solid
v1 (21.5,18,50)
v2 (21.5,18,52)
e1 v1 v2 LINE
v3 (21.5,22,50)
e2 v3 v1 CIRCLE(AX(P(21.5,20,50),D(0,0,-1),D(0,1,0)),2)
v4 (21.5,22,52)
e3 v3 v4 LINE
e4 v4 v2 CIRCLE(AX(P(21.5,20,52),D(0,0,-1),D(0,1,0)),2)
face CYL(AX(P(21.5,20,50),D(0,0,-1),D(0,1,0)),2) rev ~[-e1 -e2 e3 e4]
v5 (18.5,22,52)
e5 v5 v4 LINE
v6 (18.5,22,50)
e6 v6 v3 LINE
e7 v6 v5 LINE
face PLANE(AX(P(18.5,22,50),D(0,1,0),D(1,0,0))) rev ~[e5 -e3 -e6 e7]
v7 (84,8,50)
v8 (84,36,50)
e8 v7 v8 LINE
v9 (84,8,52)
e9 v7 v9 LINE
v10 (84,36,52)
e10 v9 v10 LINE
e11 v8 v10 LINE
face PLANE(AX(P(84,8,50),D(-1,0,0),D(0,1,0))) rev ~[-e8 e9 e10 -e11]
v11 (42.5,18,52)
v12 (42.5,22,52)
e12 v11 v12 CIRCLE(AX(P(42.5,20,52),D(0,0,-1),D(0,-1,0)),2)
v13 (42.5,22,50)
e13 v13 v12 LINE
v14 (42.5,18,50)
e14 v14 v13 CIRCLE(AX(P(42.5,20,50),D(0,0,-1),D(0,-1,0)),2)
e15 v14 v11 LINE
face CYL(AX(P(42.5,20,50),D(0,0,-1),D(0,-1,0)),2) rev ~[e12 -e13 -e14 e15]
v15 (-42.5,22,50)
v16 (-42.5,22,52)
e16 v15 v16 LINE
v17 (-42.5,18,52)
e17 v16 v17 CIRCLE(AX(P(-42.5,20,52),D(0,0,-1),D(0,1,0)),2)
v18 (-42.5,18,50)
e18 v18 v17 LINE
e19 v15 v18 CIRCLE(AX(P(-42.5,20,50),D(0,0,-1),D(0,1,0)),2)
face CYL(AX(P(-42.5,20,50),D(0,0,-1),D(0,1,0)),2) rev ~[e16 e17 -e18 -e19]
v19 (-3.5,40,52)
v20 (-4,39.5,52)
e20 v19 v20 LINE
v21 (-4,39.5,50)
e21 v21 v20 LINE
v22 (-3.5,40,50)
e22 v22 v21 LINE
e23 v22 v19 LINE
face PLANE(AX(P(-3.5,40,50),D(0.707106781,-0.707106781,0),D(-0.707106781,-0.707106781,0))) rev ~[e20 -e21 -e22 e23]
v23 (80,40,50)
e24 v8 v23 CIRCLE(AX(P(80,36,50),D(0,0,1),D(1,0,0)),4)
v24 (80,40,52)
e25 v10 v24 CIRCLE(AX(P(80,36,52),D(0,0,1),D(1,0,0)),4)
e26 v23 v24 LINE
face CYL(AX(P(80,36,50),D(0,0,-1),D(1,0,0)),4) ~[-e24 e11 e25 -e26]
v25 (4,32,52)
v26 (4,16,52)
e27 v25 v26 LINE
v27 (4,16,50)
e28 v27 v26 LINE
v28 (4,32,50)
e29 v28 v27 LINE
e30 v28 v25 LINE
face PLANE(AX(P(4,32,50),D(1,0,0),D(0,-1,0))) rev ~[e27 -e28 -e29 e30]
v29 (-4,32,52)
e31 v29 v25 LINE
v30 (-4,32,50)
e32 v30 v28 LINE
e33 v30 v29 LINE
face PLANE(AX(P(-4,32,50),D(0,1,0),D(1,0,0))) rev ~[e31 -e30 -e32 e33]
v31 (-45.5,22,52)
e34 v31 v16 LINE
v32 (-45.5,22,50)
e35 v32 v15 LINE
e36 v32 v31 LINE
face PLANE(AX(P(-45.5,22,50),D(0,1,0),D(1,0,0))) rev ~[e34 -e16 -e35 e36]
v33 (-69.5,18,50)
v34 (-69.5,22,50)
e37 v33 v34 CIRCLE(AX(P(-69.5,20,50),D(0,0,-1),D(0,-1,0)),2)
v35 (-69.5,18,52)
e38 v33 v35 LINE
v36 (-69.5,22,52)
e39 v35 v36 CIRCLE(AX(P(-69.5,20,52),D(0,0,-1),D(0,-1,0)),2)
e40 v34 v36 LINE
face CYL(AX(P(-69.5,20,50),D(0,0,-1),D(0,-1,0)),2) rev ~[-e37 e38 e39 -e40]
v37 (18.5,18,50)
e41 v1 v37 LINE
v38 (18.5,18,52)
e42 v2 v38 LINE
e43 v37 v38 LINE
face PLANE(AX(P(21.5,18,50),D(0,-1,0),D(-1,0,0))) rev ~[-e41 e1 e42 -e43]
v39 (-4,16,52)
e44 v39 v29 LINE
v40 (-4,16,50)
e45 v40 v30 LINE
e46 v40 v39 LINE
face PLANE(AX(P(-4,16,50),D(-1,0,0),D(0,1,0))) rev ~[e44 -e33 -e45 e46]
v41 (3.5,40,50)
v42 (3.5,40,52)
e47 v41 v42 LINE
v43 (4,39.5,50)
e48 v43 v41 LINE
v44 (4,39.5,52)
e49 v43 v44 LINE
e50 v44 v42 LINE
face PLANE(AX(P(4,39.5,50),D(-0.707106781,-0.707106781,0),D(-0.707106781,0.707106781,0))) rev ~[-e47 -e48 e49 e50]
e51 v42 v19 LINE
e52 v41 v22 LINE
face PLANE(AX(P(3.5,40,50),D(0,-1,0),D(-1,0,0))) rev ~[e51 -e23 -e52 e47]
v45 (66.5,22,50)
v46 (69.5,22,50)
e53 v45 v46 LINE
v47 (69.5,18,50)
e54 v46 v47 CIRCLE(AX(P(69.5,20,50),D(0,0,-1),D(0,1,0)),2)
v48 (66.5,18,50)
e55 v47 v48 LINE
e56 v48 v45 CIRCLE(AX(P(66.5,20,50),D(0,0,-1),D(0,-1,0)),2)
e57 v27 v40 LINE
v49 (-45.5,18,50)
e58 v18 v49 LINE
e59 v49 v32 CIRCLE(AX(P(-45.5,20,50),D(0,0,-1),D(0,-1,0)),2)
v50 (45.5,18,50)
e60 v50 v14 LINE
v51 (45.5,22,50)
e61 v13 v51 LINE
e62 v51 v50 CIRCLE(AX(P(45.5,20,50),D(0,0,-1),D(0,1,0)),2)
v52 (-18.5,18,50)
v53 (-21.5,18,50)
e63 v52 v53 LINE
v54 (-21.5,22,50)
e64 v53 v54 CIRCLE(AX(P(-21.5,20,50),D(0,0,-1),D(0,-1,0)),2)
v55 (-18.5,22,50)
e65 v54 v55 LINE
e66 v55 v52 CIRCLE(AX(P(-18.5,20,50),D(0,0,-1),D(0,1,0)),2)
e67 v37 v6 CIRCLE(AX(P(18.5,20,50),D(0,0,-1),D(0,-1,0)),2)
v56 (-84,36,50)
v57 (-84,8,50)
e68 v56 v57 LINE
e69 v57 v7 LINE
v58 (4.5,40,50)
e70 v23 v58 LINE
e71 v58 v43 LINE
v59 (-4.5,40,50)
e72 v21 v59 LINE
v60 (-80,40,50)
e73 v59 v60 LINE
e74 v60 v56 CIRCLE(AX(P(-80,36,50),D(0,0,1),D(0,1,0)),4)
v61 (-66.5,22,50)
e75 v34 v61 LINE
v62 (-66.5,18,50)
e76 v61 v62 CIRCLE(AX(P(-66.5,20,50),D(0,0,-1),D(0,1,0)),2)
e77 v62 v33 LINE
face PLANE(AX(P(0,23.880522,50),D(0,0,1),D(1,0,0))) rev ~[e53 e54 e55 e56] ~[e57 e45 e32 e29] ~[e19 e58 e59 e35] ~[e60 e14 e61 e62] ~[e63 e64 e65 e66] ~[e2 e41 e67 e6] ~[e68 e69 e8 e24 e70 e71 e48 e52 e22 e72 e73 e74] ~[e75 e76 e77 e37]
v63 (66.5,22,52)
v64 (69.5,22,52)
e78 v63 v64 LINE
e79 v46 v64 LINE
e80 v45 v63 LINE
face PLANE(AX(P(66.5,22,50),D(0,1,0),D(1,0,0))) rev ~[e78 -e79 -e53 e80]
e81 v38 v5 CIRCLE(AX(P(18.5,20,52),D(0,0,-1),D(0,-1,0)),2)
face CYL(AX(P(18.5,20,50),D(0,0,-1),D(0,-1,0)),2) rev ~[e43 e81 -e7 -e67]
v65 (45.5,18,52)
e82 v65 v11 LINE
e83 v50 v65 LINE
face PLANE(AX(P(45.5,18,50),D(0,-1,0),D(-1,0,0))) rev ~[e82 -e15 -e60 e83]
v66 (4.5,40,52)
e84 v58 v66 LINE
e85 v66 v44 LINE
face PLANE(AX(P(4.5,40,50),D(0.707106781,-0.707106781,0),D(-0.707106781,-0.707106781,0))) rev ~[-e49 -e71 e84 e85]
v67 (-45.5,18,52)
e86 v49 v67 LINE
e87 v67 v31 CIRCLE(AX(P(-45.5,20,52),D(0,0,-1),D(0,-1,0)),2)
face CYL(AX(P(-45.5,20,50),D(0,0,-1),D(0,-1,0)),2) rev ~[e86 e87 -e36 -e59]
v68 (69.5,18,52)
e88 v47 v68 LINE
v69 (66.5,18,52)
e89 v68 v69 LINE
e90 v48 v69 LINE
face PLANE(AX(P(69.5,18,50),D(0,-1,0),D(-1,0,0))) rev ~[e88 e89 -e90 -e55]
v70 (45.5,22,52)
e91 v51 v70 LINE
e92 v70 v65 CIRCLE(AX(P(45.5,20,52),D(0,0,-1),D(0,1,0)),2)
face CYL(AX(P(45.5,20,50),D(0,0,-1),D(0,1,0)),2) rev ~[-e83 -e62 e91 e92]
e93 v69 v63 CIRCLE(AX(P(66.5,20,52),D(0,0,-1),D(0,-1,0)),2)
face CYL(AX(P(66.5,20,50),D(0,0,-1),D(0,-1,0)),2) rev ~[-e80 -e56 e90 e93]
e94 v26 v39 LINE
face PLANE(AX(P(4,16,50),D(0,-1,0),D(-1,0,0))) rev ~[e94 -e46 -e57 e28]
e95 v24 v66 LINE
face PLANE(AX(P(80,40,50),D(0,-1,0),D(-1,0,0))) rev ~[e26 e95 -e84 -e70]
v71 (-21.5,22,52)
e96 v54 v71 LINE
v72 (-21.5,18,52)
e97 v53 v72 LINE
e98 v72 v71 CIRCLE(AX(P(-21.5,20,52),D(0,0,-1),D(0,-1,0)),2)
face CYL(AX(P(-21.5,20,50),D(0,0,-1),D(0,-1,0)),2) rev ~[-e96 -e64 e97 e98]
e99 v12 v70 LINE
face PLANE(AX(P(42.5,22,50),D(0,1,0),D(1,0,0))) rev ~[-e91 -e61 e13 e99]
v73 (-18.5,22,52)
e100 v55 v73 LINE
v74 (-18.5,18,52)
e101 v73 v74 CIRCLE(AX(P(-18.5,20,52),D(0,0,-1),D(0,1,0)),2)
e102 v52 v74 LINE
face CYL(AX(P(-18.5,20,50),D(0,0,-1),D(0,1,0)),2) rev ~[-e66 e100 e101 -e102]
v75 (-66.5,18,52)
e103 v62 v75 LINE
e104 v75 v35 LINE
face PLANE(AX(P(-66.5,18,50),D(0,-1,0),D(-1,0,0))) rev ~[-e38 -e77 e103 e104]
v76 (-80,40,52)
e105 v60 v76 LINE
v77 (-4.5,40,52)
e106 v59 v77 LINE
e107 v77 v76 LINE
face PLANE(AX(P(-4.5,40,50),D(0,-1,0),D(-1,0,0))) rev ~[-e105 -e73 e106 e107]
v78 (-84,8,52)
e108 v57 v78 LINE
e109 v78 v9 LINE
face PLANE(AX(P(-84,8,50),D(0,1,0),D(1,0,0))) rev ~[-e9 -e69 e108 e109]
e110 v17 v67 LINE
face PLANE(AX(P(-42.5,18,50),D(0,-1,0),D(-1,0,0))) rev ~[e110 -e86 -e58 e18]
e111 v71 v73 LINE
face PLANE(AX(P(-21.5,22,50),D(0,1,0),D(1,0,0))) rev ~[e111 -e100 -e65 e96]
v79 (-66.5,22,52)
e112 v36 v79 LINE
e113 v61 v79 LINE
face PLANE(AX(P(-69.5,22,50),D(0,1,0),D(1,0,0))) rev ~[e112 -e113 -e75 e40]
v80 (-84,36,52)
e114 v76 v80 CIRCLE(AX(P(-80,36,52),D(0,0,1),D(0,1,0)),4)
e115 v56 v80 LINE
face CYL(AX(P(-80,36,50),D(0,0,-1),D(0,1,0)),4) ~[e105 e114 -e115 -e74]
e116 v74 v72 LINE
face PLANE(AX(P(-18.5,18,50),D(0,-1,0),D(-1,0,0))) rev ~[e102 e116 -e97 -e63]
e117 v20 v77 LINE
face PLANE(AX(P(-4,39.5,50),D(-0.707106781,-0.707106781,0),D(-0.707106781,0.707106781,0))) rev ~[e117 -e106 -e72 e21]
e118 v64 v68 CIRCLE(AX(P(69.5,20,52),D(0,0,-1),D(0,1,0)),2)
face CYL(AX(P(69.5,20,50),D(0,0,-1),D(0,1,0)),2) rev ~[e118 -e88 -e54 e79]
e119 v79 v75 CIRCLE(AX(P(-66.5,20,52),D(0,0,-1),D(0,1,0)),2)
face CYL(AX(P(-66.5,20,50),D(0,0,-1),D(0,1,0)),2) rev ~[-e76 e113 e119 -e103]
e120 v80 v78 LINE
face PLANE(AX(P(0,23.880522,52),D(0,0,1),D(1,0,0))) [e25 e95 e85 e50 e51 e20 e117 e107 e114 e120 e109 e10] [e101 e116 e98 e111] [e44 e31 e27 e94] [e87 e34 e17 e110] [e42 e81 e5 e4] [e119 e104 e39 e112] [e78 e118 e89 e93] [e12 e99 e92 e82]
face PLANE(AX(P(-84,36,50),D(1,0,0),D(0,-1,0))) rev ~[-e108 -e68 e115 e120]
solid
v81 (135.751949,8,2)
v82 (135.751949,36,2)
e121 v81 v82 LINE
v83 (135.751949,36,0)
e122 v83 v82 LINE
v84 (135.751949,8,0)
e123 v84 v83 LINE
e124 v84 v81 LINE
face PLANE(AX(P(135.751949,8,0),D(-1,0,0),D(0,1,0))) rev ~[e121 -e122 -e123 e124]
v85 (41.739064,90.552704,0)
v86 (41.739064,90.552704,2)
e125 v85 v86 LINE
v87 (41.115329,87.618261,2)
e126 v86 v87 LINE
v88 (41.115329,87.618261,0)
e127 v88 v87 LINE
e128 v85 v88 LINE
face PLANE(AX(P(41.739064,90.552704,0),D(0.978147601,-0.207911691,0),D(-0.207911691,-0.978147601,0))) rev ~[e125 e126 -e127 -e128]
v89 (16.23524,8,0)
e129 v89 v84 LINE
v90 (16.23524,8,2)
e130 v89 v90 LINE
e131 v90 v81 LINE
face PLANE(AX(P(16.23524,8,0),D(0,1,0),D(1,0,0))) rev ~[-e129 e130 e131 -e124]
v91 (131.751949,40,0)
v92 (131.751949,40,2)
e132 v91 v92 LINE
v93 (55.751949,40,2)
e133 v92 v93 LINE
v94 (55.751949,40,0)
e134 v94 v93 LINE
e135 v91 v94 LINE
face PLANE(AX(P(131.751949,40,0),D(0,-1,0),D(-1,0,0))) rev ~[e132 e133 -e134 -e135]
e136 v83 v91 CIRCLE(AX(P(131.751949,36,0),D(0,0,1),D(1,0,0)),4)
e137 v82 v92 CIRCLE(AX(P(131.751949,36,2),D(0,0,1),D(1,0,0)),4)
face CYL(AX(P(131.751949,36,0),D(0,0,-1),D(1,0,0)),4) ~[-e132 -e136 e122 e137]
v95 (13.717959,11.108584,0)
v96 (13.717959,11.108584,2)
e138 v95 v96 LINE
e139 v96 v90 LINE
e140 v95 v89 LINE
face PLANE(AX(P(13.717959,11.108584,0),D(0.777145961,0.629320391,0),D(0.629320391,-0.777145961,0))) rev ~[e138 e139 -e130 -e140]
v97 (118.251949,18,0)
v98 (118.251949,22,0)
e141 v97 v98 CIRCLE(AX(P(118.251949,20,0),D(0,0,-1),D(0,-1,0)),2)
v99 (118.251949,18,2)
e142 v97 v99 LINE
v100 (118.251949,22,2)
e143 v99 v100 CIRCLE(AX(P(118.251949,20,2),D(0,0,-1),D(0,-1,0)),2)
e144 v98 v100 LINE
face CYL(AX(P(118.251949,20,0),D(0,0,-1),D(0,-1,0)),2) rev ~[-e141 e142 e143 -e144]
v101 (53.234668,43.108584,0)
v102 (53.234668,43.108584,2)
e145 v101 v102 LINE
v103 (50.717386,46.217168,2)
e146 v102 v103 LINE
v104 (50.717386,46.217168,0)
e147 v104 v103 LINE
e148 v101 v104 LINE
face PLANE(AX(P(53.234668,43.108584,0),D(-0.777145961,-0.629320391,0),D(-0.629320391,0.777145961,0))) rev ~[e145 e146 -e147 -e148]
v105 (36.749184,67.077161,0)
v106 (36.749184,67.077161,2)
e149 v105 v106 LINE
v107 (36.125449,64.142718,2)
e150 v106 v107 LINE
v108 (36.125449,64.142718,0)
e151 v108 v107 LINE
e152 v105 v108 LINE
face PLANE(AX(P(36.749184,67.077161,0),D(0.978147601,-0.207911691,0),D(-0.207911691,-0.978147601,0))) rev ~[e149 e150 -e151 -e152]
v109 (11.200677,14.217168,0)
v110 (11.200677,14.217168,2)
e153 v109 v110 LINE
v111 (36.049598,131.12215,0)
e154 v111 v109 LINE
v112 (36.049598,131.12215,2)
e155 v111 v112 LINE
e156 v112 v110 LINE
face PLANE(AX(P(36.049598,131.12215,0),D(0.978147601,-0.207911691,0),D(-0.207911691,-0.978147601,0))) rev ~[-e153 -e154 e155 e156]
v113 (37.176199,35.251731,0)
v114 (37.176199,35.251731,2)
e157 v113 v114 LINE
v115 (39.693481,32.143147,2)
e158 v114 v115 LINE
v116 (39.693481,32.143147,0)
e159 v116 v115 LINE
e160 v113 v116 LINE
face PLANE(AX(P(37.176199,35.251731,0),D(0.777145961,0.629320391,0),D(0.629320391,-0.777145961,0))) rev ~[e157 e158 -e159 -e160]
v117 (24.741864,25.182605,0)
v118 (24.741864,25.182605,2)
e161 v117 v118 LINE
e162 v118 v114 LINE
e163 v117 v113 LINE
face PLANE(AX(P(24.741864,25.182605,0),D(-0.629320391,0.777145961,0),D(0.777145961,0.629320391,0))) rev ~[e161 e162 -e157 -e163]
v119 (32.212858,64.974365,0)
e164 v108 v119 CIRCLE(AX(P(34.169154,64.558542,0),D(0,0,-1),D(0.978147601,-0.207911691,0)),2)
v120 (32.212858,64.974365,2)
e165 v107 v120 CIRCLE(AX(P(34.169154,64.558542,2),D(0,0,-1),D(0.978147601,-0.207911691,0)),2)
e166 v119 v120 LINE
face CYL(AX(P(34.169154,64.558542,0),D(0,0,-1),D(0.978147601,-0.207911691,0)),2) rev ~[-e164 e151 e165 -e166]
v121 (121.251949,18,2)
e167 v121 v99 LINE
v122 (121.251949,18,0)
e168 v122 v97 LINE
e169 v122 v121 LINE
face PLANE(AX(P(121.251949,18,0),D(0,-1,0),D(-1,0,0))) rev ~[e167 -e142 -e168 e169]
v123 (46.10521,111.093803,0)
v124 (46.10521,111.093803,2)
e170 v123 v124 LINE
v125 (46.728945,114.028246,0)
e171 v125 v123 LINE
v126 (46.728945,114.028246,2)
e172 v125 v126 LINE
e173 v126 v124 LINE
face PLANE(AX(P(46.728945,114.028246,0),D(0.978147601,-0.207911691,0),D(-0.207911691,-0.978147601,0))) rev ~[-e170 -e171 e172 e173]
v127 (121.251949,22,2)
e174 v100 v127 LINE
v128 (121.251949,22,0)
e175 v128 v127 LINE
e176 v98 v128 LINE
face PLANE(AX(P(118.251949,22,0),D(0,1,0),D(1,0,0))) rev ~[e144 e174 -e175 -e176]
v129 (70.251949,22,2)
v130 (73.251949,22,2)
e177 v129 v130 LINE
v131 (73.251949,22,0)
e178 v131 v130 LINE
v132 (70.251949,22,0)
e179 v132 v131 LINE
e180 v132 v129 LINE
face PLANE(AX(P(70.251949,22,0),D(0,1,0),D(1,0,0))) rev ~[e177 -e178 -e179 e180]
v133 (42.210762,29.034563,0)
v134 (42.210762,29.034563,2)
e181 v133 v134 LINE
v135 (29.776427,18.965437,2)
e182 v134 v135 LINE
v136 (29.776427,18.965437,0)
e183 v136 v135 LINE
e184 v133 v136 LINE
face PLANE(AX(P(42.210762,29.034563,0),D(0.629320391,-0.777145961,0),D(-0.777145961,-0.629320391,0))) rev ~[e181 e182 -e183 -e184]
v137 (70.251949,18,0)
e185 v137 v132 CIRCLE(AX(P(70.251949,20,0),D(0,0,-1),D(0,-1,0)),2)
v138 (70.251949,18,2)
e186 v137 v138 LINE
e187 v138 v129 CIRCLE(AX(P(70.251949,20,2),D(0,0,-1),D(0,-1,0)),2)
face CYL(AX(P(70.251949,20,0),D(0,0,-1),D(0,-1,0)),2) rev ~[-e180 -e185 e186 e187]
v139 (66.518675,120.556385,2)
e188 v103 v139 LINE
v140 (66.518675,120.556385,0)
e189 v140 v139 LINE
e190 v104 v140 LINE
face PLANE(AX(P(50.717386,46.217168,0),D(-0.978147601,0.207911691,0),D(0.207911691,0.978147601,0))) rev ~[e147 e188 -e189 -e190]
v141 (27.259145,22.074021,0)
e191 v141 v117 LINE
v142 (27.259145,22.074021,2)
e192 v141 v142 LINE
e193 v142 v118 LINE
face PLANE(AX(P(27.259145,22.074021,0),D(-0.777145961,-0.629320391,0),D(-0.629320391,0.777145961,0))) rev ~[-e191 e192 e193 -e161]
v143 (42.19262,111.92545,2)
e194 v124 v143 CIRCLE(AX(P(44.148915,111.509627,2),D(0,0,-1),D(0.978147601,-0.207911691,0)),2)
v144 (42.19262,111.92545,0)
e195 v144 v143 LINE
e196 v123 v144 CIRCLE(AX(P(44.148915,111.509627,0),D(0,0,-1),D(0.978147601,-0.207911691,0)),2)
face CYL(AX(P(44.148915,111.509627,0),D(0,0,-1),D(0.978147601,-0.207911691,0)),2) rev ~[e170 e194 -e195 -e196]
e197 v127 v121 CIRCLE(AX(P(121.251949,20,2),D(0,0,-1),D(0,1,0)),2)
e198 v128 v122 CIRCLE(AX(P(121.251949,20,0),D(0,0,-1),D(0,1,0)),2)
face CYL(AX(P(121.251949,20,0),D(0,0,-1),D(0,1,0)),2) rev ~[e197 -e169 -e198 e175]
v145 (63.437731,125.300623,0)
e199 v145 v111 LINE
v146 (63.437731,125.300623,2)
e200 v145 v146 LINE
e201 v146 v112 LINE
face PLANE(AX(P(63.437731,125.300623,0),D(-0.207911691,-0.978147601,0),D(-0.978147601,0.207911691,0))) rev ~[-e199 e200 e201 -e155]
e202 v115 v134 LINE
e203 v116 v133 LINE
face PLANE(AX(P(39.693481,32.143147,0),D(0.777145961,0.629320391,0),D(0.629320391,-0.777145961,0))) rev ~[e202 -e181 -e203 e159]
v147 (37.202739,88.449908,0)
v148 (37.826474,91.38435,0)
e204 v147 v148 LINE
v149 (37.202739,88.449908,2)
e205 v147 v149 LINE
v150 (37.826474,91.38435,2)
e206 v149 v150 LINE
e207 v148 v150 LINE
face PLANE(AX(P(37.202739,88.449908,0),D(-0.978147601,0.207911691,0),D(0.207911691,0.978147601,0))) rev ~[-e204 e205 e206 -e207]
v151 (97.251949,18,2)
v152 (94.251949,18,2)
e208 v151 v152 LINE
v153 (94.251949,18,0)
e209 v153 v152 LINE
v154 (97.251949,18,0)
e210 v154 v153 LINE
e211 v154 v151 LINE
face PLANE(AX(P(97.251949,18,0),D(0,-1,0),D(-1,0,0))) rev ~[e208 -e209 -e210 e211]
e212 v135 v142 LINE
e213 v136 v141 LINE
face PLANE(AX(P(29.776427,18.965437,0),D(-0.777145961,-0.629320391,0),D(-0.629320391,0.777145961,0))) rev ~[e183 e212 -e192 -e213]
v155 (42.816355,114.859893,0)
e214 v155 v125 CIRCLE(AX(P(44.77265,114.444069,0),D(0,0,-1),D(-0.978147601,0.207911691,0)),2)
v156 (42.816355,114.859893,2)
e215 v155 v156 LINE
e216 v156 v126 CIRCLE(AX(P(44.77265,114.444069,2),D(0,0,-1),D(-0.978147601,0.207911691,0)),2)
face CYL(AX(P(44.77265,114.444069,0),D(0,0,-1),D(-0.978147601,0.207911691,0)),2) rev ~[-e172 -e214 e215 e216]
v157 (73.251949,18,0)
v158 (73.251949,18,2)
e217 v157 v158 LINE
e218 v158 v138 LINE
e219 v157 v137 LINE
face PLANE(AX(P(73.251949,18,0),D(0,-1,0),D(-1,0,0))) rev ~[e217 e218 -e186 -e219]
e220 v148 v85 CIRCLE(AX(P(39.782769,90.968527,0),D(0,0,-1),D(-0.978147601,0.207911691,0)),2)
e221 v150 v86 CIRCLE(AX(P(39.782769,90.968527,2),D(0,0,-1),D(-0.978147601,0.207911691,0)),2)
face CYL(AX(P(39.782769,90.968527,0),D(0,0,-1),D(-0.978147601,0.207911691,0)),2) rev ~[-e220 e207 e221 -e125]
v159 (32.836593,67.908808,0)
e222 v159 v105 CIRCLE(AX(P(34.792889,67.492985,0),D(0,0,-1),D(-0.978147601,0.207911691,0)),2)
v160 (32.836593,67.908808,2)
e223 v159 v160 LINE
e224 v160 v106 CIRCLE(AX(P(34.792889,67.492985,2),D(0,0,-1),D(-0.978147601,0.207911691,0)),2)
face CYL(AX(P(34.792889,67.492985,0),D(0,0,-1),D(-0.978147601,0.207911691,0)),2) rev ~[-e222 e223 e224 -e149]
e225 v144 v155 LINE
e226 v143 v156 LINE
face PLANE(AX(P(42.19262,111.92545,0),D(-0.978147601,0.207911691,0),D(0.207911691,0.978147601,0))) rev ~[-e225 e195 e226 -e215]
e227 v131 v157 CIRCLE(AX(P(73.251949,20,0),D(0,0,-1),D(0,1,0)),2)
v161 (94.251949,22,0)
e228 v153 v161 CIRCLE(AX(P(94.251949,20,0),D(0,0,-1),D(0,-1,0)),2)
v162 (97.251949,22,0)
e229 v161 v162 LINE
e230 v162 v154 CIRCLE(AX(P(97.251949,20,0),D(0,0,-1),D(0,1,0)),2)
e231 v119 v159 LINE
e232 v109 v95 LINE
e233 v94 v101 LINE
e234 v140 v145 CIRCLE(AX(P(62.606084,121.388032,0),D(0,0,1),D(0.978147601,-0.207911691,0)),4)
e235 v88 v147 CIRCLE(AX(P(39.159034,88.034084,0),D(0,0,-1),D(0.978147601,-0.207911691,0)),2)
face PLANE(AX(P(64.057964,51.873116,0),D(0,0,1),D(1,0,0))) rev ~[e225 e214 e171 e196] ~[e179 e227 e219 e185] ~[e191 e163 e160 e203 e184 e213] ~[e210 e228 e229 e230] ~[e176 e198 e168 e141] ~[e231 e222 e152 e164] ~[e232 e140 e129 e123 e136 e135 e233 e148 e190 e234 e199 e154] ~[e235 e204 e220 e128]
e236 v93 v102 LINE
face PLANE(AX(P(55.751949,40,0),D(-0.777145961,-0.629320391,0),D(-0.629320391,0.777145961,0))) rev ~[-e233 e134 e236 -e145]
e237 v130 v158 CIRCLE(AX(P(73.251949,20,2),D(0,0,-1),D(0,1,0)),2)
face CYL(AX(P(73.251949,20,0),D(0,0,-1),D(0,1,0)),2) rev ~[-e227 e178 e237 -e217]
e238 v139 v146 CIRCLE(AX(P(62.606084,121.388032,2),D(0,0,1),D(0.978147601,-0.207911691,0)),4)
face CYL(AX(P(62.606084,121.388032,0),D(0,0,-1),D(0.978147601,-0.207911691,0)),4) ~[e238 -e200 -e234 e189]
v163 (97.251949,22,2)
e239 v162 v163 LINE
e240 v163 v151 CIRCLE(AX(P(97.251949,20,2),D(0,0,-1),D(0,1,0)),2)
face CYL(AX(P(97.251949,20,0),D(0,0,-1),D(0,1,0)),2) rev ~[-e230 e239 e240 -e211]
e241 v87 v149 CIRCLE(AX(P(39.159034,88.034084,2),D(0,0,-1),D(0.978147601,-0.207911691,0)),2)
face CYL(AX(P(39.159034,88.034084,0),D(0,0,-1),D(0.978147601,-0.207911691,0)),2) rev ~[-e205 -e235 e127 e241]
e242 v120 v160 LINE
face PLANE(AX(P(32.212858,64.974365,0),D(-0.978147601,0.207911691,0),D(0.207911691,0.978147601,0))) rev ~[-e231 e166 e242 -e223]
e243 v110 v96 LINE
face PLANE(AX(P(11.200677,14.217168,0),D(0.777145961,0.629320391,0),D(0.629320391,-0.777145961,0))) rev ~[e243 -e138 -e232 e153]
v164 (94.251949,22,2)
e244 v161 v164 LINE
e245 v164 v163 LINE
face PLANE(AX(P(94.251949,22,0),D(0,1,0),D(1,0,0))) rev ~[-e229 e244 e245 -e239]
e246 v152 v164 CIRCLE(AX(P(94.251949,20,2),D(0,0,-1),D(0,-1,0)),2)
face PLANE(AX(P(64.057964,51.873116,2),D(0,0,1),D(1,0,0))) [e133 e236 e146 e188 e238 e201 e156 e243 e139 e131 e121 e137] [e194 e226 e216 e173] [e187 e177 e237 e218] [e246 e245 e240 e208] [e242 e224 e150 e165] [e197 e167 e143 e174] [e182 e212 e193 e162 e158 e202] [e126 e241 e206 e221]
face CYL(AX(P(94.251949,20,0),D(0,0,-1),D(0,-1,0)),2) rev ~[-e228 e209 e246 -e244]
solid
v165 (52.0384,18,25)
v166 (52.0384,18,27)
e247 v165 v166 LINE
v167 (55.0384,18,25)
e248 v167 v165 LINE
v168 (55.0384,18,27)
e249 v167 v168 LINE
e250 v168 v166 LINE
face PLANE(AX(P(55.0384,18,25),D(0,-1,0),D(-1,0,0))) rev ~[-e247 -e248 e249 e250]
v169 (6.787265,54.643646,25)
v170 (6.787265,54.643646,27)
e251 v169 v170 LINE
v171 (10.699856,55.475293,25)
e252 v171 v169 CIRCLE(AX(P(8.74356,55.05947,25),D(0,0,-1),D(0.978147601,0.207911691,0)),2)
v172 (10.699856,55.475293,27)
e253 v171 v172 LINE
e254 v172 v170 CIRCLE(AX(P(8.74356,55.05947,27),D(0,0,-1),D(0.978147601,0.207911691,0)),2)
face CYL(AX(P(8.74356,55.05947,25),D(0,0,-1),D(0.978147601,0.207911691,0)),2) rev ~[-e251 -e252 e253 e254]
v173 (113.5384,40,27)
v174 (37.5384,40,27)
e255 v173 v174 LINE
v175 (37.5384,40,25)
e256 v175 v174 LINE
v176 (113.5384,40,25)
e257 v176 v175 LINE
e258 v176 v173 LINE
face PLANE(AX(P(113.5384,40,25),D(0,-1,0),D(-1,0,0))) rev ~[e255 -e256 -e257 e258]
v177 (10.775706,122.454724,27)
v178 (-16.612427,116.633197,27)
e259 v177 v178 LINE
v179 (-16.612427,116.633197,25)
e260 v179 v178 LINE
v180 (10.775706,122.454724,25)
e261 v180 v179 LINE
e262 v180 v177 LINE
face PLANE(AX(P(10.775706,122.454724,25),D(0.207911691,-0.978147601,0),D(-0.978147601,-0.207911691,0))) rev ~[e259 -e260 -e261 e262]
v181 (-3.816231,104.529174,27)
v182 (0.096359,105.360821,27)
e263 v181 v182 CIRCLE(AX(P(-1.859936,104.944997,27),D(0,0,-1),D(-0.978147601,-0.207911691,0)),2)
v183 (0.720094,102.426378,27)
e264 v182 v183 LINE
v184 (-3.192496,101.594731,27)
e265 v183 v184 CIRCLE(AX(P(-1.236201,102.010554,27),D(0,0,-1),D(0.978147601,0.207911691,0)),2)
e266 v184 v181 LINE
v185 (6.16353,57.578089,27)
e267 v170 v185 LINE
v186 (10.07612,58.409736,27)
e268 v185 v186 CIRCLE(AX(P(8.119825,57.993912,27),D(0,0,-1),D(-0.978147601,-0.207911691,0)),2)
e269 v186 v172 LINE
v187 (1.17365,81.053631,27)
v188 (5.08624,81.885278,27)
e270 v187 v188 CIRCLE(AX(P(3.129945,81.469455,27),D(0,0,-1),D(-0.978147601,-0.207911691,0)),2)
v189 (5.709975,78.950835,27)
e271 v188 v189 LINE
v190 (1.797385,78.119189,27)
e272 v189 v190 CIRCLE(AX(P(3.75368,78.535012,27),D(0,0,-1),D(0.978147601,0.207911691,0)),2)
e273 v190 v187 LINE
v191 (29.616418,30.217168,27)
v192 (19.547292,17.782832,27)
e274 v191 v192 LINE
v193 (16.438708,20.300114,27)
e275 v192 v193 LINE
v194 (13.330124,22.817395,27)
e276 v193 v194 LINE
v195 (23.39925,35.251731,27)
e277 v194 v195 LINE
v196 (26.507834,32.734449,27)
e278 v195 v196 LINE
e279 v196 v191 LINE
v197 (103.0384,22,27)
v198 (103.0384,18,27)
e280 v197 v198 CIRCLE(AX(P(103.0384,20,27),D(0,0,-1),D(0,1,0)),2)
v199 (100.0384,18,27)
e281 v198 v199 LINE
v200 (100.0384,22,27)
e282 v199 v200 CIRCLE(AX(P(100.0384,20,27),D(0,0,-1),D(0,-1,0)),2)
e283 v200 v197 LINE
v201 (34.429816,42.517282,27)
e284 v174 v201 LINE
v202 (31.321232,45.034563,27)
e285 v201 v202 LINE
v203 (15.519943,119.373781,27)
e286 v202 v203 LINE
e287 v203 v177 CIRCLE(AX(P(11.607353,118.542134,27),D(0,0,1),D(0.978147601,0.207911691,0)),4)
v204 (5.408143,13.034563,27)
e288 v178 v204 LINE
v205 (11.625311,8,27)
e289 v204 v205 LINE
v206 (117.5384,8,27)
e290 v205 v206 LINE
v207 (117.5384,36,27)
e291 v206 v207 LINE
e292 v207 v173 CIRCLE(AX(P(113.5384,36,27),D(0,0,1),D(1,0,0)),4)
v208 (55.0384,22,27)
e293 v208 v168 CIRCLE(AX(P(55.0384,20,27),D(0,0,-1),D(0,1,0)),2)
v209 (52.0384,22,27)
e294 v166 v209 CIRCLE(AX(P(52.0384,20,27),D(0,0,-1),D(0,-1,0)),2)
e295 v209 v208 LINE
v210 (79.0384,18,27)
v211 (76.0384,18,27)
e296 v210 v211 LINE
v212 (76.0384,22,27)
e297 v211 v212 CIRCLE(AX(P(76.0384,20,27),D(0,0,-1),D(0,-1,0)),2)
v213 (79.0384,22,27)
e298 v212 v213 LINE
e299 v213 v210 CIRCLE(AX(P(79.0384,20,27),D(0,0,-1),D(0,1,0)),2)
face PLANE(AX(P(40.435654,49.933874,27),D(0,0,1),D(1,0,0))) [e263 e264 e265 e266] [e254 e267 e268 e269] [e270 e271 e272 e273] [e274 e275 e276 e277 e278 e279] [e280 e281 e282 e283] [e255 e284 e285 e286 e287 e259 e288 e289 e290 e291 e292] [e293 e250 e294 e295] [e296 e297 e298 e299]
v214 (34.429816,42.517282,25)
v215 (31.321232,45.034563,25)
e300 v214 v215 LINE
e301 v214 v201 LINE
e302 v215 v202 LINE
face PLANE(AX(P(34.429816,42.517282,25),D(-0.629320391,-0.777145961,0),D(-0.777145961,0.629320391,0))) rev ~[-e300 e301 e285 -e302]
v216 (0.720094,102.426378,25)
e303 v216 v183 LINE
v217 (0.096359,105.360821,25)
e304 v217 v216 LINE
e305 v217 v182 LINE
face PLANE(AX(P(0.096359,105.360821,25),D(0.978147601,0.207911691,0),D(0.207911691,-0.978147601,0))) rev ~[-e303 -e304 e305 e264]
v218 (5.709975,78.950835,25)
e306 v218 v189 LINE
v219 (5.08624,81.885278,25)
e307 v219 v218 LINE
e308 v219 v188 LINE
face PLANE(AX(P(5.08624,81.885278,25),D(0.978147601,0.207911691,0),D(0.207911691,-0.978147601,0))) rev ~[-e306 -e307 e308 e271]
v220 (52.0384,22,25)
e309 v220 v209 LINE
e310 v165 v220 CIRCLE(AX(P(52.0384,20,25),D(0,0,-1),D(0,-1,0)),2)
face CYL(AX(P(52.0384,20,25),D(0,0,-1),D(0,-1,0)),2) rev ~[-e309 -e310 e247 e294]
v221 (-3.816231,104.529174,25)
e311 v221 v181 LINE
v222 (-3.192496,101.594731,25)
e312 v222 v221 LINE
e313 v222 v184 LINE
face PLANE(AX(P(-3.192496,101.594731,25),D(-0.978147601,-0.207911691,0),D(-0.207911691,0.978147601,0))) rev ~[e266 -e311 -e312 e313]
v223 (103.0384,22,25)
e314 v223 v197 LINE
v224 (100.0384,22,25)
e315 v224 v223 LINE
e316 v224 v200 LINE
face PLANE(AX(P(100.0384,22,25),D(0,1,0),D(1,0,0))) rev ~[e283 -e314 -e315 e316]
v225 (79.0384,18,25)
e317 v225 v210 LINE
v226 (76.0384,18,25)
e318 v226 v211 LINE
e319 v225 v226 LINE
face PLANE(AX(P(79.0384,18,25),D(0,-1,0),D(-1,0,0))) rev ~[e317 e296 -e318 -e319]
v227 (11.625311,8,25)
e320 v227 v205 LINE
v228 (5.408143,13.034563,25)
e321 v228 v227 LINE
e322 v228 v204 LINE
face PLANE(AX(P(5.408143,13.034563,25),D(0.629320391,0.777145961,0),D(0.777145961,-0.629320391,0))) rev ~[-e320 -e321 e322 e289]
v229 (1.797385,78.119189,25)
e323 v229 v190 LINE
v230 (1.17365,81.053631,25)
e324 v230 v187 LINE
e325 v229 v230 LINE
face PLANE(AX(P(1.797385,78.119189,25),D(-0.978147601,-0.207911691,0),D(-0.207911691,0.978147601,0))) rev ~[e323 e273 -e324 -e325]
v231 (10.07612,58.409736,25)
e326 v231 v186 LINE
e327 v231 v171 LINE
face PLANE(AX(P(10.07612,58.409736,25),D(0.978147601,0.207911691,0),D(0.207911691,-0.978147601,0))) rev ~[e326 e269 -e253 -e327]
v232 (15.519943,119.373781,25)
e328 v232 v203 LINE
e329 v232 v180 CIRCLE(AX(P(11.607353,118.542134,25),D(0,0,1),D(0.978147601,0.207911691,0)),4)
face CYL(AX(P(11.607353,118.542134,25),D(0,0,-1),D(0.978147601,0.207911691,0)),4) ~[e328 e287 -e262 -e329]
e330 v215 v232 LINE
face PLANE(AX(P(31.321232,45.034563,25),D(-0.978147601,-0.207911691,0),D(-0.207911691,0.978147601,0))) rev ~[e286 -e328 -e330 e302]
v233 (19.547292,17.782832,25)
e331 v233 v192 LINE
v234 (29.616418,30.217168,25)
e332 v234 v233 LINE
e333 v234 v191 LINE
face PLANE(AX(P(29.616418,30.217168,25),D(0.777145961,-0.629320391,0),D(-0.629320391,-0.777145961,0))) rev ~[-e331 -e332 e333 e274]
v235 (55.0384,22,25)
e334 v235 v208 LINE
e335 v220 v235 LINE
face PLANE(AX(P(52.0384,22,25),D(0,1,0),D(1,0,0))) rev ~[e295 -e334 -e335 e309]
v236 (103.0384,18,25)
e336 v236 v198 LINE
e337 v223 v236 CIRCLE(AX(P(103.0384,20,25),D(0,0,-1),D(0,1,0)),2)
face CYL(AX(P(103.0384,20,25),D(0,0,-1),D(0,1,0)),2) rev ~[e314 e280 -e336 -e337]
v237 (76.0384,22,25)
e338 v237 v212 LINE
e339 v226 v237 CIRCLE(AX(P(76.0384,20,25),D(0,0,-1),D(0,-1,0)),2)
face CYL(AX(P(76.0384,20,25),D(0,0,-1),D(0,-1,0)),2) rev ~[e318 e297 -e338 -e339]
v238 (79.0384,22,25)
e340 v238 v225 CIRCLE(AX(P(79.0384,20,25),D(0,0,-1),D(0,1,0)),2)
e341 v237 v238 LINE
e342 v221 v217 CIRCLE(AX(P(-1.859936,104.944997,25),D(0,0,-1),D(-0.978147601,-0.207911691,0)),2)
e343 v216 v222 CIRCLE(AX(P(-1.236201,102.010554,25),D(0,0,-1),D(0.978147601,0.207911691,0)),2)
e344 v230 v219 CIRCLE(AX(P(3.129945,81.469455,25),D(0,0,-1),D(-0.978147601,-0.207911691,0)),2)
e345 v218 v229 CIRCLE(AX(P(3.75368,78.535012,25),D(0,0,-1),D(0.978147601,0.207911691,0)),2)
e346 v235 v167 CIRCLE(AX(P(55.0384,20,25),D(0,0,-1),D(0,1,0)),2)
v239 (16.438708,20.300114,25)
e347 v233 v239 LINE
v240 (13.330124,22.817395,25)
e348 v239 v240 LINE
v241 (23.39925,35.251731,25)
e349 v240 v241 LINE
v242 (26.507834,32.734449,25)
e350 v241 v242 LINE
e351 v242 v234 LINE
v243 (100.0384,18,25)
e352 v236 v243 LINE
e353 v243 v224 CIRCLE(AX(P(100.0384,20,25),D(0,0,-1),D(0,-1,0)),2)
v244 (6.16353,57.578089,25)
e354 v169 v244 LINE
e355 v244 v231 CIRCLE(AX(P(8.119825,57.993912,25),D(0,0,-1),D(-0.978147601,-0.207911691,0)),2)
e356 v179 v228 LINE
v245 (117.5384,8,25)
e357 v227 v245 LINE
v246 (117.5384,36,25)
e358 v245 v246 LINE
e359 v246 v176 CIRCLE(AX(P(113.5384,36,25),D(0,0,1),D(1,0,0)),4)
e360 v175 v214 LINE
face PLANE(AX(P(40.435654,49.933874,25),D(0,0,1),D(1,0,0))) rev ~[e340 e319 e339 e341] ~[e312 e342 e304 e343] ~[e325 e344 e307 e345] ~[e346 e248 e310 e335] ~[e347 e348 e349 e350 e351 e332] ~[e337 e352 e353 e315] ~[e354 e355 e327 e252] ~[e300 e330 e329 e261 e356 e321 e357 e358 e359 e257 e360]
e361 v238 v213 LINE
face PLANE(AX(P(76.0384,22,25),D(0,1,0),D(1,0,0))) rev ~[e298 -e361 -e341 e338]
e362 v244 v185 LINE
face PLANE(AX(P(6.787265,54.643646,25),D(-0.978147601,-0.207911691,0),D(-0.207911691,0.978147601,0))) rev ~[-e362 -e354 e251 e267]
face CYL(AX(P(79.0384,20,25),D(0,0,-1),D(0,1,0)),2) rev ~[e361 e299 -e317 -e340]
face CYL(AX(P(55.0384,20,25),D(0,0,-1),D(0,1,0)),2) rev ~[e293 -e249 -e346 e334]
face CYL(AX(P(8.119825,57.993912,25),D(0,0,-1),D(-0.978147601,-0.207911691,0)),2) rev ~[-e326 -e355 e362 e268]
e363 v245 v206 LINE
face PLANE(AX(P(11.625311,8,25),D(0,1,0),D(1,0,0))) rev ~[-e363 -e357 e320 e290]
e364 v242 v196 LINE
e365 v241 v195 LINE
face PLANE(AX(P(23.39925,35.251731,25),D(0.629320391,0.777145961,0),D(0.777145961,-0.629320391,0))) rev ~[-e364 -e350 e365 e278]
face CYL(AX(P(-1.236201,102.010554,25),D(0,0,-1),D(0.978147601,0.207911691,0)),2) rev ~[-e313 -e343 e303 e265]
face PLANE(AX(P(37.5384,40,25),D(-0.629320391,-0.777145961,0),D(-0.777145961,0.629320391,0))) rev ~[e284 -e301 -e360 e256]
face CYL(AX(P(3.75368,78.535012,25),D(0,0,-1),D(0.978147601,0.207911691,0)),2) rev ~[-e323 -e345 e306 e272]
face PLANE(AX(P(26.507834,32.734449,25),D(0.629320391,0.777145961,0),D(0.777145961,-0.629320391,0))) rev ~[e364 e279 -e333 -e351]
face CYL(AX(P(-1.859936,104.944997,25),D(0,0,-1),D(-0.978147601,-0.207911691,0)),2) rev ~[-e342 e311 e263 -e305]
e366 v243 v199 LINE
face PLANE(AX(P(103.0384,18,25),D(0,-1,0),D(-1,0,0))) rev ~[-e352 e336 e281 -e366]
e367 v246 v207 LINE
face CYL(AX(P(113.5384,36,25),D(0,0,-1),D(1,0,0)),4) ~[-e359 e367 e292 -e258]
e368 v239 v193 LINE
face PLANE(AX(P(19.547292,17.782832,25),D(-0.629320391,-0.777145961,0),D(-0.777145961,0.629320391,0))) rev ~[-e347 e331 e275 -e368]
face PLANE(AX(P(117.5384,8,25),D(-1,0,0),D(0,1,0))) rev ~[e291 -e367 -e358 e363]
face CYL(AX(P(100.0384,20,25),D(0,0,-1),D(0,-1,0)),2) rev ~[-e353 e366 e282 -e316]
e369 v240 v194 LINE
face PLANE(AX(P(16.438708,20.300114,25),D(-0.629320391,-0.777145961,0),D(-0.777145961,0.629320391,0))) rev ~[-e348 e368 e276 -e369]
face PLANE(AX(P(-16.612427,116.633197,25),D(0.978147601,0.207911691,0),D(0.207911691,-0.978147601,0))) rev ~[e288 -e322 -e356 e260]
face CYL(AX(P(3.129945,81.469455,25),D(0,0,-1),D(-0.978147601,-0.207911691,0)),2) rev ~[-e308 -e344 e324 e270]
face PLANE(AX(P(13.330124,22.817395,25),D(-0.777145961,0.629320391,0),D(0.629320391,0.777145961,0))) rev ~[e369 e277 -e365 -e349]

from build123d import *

# Parameters (mm, degrees)
F1_DEPTH = 2
F4_DEPTH = 2
F7_DEPTH = 2


with BuildPart() as f1:
    # F0 (on Top) → F1 (new body)
    with BuildSketch(Plane.XY):
        with BuildLine():
            Line((16.2352401685, 8), (135.7519491777, 8))
            Line((135.7519491777, 8), (135.7519491777, 36))
            ThreePointArc((135.7519491777, 36), (134.5803763024, 38.8284271247), (131.7519491777, 40))
            Line((131.7519491777, 40), (55.7519491777, 40))
            Line((55.7519491777, 40), (53.2346676135, 43.1085838458))
            Line((53.2346676135, 43.1085838458), (50.7173860493, 46.2171676917))
            Line((50.7173860493, 46.2171676917), (66.5186745514, 120.5563853474))
            ThreePointArc((66.5186745514, 120.5563853474), (65.9607664203, 123.5665882508), (63.4377309118, 125.3006225136))
            Line((63.4377309118, 125.3006225136), (36.0495980912, 131.1221498565))
            Line((36.0495980912, 131.1221498565), (11.2006770401, 14.2171676917))
            Line((11.2006770401, 14.2171676917), (13.7179586043, 11.1085838458))
            Line((13.7179586043, 11.1085838458), (16.2352401685, 8))
        make_face()
        Polygon((37.1761992364, 35.2517308201), (39.6934808006, 32.1431469742), (42.2107623648, 29.0345631284), (29.7764269814, 18.9654368716), (27.2591454172, 22.0740207174), (24.7418638531, 25.1826045633), align=None, mode=Mode.SUBTRACT)
        with BuildLine():
            ThreePointArc((70.2519491777, 18), (68.2519491777, 20), (70.2519491777, 22))
            Line((70.2519491777, 22), (73.2519491777, 22))
            ThreePointArc((73.2519491777, 22), (75.2519491777, 20), (73.2519491777, 18))
            Line((73.2519491777, 18), (70.2519491777, 18))
        make_face(mode=Mode.SUBTRACT)
        with BuildLine():
            ThreePointArc((36.1254487529, 64.142718337), (33.7533301698, 62.6022465172), (32.21285835, 64.9743651003))
            Line((32.21285835, 64.9743651003), (32.8365934224, 67.9088079025))
            ThreePointArc((32.8365934224, 67.9088079025), (35.2087120055, 69.4492797223), (36.7491838254, 67.0771611392))
            Line((36.7491838254, 67.0771611392), (36.1254487529, 64.142718337))
        make_face(mode=Mode.SUBTRACT)
        with BuildLine():
            ThreePointArc((94.2519491777, 18), (92.2519491777, 20), (94.2519491777, 22))
            Line((94.2519491777, 22), (97.2519491777, 22))
            ThreePointArc((97.2519491777, 22), (99.2519491777, 20), (97.2519491777, 18))
            Line((97.2519491777, 18), (94.2519491777, 18))
        make_face(mode=Mode.SUBTRACT)
        with BuildLine():
            ThreePointArc((118.2519491777, 18), (116.2519491777, 20), (118.2519491777, 22))
            Line((118.2519491777, 22), (121.2519491777, 22))
            ThreePointArc((121.2519491777, 22), (123.2519491777, 20), (121.2519491777, 18))
            Line((121.2519491777, 18), (118.2519491777, 18))
        make_face(mode=Mode.SUBTRACT)
        with BuildLine():
            ThreePointArc((41.1153293325, 87.6182607546), (38.7432107494, 86.0777889348), (37.2027389296, 88.4499075179))
            Line((37.2027389296, 88.4499075179), (37.8264740021, 91.3843503201))
            ThreePointArc((37.8264740021, 91.3843503201), (40.1985925852, 92.9248221399), (41.739064405, 90.5527035568))
            Line((41.739064405, 90.5527035568), (41.1153293325, 87.6182607546))
        make_face(mode=Mode.SUBTRACT)
        with BuildLine():
            ThreePointArc((46.1052099122, 111.0938031722), (43.7330913291, 109.5533313524), (42.1926195092, 111.9254499355))
            Line((42.1926195092, 111.9254499355), (42.8163545817, 114.8598927377))
            ThreePointArc((42.8163545817, 114.8598927377), (45.1884731648, 116.4003645575), (46.7289449846, 114.0282459744))
            Line((46.7289449846, 114.0282459744), (46.1052099122, 111.0938031722))
        make_face(mode=Mode.SUBTRACT)
    extrude(amount=F1_DEPTH)


with BuildPart() as f4:
    # F3 (on offset) → F4 (new body)
    with BuildSketch(Plane.XY.offset(25)):
        with BuildLine():
            Line((8.5167266833, 10.5172815642), (11.6253105291, 8))
            Line((11.6253105291, 8), (117.5383995914, 8))
            Line((117.5383995914, 8), (117.5383995914, 36))
            ThreePointArc((117.5383995914, 36), (116.3668267161, 38.8284271247), (113.5383995914, 40))
            Line((113.5383995914, 40), (37.5383995914, 40))
            Line((37.5383995914, 40), (34.4298157455, 42.5172815642))
            Line((34.4298157455, 42.5172815642), (31.3212318997, 45.0345631284))
            Line((31.3212318997, 45.0345631284), (15.5199433976, 119.3737807842))
            ThreePointArc((15.5199433976, 119.3737807842), (13.7859091347, 121.8968162927), (10.7757062314, 122.4547244238))
            Line((10.7757062314, 122.4547244238), (-16.6124265892, 116.6331970809))
            Line((-16.6124265892, 116.6331970809), (5.4081428375, 13.0345631284))
            Line((5.4081428375, 13.0345631284), (8.5167266833, 10.5172815642))
        make_face()
        Polygon((23.399250497, 35.2517308201), (26.5078343428, 32.7344492559), (29.6164181887, 30.2171676917), (19.5472919319, 17.7828323083), (16.438708086, 20.3001138725), (13.3301242402, 22.8173954367), align=None, mode=Mode.SUBTRACT)
        with BuildLine():
            ThreePointArc((10.6998555697, 55.4752929043), (9.1593837498, 53.1031743212), (6.7872651667, 54.643646141))
            Line((6.7872651667, 54.643646141), (6.1635300943, 57.5780889432))
            ThreePointArc((6.1635300943, 57.5780889432), (7.7040019141, 59.9502075264), (10.0761204972, 58.4097357065))
            Line((10.0761204972, 58.4097357065), (10.6998555697, 55.4752929043))
        make_face(mode=Mode.SUBTRACT)
        with BuildLine():
            Line((55.0383995914, 18), (52.0383995914, 18))
            ThreePointArc((52.0383995914, 18), (50.0383995914, 20), (52.0383995914, 22))
            Line((52.0383995914, 22), (55.0383995914, 22))
            ThreePointArc((55.0383995914, 22), (57.0383995914, 20), (55.0383995914, 18))
        make_face(mode=Mode.SUBTRACT)
        with BuildLine():
            Line((79.0383995914, 18), (76.0383995914, 18))
            ThreePointArc((76.0383995914, 18), (74.0383995914, 20), (76.0383995914, 22))
            Line((76.0383995914, 22), (79.0383995914, 22))
            ThreePointArc((79.0383995914, 22), (81.0383995914, 20), (79.0383995914, 18))
        make_face(mode=Mode.SUBTRACT)
        with BuildLine():
            Line((103.0383995914, 18), (100.0383995914, 18))
            ThreePointArc((100.0383995914, 18), (98.0383995914, 20), (100.0383995914, 22))
            Line((100.0383995914, 22), (103.0383995914, 22))
            ThreePointArc((103.0383995914, 22), (105.0383995914, 20), (103.0383995914, 18))
        make_face(mode=Mode.SUBTRACT)
        with BuildLine():
            ThreePointArc((5.70997499, 78.9508353219), (4.1695031702, 76.5787167388), (1.7973845871, 78.1191885587))
            Line((1.7973845871, 78.1191885587), (1.1736495146, 81.0536313609))
            ThreePointArc((1.1736495146, 81.0536313609), (2.7141213345, 83.425749944), (5.0862399176, 81.8852781241))
            Line((5.0862399176, 81.8852781241), (5.70997499, 78.9508353219))
        make_face(mode=Mode.SUBTRACT)
        with BuildLine():
            ThreePointArc((0.7200944104, 102.4263777395), (-0.8203774094, 100.0542591564), (-3.1924959925, 101.5947309763))
            Line((-3.1924959925, 101.5947309763), (-3.816231065, 104.5291737785))
            ThreePointArc((-3.816231065, 104.5291737785), (-2.2757592452, 106.9012923616), (0.0963593379, 105.3608205417))
            Line((0.0963593379, 105.3608205417), (0.7200944104, 102.4263777395))
        make_face(mode=Mode.SUBTRACT)
    extrude(amount=F4_DEPTH)


with BuildPart() as f7:
    # F6 (on offset) → F7 (new body)
    with BuildSketch(Plane.XY.offset(50)):
        with BuildLine():
            Line((4, 8), (84, 8))
            Line((84, 8), (84, 36))
            ThreePointArc((84, 36), (82.8284271247, 38.8284271247), (80, 40))
            Line((80, 40), (4.5, 40))
            Line((4.5, 40), (4, 39.5))
            Line((4, 39.5), (3.5, 40))
            Line((3.5, 40), (0, 40))
            Line((0, 40), (-3.5, 40))
            Line((-3.5, 40), (-4, 39.5))
            Line((-4, 39.5), (-4.5, 40))
            Line((-4.5, 40), (-80, 40))
            ThreePointArc((-80, 40), (-82.8284271247, 38.8284271247), (-84, 36))
            Line((-84, 36), (-84, 8))
            Line((-84, 8), (-4, 8))
            Line((-4, 8), (0, 8))
            Line((0, 8), (4, 8))
        make_face()
        with BuildLine():
            Line((-66.5, 18), (-69.5, 18))
            ThreePointArc((-69.5, 18), (-71.5, 20), (-69.5, 22))
            Line((-69.5, 22), (-66.5, 22))
            ThreePointArc((-66.5, 22), (-64.5, 20), (-66.5, 18))
        make_face(mode=Mode.SUBTRACT)
        with BuildLine():
            Line((-45.5, 22), (-42.5, 22))
            ThreePointArc((-42.5, 22), (-40.5, 20), (-42.5, 18))
            Line((-42.5, 18), (-45.5, 18))
            ThreePointArc((-45.5, 18), (-47.5, 20), (-45.5, 22))
        make_face(mode=Mode.SUBTRACT)
        with BuildLine():
            Line((-18.5, 18), (-21.5, 18))
            ThreePointArc((-21.5, 18), (-23.5, 20), (-21.5, 22))
            Line((-21.5, 22), (-18.5, 22))
            ThreePointArc((-18.5, 22), (-16.5, 20), (-18.5, 18))
        make_face(mode=Mode.SUBTRACT)
        with BuildLine():
            ThreePointArc((18.5, 18), (16.5, 20), (18.5, 22))
            Line((18.5, 22), (21.5, 22))
            ThreePointArc((21.5, 22), (23.5, 20), (21.5, 18))
            Line((21.5, 18), (18.5, 18))
        make_face(mode=Mode.SUBTRACT)
        with BuildLine():
            ThreePointArc((42.5, 18), (40.5, 20), (42.5, 22))
            Line((42.5, 22), (45.5, 22))
            ThreePointArc((45.5, 22), (47.5, 20), (45.5, 18))
            Line((45.5, 18), (42.5, 18))
        make_face(mode=Mode.SUBTRACT)
        with BuildLine():
            ThreePointArc((66.5, 18), (64.5, 20), (66.5, 22))
            Line((66.5, 22), (69.5, 22))
            ThreePointArc((69.5, 22), (71.5, 20), (69.5, 18))
            Line((69.5, 18), (66.5, 18))
        make_face(mode=Mode.SUBTRACT)
        Polygon((4, 16), (0, 16), (-4, 16), (-4, 32), (0, 32), (4, 32), align=None, mode=Mode.SUBTRACT)
    extrude(amount=F7_DEPTH)


solid = Compound([f1.part, f4.part, f7.part])
